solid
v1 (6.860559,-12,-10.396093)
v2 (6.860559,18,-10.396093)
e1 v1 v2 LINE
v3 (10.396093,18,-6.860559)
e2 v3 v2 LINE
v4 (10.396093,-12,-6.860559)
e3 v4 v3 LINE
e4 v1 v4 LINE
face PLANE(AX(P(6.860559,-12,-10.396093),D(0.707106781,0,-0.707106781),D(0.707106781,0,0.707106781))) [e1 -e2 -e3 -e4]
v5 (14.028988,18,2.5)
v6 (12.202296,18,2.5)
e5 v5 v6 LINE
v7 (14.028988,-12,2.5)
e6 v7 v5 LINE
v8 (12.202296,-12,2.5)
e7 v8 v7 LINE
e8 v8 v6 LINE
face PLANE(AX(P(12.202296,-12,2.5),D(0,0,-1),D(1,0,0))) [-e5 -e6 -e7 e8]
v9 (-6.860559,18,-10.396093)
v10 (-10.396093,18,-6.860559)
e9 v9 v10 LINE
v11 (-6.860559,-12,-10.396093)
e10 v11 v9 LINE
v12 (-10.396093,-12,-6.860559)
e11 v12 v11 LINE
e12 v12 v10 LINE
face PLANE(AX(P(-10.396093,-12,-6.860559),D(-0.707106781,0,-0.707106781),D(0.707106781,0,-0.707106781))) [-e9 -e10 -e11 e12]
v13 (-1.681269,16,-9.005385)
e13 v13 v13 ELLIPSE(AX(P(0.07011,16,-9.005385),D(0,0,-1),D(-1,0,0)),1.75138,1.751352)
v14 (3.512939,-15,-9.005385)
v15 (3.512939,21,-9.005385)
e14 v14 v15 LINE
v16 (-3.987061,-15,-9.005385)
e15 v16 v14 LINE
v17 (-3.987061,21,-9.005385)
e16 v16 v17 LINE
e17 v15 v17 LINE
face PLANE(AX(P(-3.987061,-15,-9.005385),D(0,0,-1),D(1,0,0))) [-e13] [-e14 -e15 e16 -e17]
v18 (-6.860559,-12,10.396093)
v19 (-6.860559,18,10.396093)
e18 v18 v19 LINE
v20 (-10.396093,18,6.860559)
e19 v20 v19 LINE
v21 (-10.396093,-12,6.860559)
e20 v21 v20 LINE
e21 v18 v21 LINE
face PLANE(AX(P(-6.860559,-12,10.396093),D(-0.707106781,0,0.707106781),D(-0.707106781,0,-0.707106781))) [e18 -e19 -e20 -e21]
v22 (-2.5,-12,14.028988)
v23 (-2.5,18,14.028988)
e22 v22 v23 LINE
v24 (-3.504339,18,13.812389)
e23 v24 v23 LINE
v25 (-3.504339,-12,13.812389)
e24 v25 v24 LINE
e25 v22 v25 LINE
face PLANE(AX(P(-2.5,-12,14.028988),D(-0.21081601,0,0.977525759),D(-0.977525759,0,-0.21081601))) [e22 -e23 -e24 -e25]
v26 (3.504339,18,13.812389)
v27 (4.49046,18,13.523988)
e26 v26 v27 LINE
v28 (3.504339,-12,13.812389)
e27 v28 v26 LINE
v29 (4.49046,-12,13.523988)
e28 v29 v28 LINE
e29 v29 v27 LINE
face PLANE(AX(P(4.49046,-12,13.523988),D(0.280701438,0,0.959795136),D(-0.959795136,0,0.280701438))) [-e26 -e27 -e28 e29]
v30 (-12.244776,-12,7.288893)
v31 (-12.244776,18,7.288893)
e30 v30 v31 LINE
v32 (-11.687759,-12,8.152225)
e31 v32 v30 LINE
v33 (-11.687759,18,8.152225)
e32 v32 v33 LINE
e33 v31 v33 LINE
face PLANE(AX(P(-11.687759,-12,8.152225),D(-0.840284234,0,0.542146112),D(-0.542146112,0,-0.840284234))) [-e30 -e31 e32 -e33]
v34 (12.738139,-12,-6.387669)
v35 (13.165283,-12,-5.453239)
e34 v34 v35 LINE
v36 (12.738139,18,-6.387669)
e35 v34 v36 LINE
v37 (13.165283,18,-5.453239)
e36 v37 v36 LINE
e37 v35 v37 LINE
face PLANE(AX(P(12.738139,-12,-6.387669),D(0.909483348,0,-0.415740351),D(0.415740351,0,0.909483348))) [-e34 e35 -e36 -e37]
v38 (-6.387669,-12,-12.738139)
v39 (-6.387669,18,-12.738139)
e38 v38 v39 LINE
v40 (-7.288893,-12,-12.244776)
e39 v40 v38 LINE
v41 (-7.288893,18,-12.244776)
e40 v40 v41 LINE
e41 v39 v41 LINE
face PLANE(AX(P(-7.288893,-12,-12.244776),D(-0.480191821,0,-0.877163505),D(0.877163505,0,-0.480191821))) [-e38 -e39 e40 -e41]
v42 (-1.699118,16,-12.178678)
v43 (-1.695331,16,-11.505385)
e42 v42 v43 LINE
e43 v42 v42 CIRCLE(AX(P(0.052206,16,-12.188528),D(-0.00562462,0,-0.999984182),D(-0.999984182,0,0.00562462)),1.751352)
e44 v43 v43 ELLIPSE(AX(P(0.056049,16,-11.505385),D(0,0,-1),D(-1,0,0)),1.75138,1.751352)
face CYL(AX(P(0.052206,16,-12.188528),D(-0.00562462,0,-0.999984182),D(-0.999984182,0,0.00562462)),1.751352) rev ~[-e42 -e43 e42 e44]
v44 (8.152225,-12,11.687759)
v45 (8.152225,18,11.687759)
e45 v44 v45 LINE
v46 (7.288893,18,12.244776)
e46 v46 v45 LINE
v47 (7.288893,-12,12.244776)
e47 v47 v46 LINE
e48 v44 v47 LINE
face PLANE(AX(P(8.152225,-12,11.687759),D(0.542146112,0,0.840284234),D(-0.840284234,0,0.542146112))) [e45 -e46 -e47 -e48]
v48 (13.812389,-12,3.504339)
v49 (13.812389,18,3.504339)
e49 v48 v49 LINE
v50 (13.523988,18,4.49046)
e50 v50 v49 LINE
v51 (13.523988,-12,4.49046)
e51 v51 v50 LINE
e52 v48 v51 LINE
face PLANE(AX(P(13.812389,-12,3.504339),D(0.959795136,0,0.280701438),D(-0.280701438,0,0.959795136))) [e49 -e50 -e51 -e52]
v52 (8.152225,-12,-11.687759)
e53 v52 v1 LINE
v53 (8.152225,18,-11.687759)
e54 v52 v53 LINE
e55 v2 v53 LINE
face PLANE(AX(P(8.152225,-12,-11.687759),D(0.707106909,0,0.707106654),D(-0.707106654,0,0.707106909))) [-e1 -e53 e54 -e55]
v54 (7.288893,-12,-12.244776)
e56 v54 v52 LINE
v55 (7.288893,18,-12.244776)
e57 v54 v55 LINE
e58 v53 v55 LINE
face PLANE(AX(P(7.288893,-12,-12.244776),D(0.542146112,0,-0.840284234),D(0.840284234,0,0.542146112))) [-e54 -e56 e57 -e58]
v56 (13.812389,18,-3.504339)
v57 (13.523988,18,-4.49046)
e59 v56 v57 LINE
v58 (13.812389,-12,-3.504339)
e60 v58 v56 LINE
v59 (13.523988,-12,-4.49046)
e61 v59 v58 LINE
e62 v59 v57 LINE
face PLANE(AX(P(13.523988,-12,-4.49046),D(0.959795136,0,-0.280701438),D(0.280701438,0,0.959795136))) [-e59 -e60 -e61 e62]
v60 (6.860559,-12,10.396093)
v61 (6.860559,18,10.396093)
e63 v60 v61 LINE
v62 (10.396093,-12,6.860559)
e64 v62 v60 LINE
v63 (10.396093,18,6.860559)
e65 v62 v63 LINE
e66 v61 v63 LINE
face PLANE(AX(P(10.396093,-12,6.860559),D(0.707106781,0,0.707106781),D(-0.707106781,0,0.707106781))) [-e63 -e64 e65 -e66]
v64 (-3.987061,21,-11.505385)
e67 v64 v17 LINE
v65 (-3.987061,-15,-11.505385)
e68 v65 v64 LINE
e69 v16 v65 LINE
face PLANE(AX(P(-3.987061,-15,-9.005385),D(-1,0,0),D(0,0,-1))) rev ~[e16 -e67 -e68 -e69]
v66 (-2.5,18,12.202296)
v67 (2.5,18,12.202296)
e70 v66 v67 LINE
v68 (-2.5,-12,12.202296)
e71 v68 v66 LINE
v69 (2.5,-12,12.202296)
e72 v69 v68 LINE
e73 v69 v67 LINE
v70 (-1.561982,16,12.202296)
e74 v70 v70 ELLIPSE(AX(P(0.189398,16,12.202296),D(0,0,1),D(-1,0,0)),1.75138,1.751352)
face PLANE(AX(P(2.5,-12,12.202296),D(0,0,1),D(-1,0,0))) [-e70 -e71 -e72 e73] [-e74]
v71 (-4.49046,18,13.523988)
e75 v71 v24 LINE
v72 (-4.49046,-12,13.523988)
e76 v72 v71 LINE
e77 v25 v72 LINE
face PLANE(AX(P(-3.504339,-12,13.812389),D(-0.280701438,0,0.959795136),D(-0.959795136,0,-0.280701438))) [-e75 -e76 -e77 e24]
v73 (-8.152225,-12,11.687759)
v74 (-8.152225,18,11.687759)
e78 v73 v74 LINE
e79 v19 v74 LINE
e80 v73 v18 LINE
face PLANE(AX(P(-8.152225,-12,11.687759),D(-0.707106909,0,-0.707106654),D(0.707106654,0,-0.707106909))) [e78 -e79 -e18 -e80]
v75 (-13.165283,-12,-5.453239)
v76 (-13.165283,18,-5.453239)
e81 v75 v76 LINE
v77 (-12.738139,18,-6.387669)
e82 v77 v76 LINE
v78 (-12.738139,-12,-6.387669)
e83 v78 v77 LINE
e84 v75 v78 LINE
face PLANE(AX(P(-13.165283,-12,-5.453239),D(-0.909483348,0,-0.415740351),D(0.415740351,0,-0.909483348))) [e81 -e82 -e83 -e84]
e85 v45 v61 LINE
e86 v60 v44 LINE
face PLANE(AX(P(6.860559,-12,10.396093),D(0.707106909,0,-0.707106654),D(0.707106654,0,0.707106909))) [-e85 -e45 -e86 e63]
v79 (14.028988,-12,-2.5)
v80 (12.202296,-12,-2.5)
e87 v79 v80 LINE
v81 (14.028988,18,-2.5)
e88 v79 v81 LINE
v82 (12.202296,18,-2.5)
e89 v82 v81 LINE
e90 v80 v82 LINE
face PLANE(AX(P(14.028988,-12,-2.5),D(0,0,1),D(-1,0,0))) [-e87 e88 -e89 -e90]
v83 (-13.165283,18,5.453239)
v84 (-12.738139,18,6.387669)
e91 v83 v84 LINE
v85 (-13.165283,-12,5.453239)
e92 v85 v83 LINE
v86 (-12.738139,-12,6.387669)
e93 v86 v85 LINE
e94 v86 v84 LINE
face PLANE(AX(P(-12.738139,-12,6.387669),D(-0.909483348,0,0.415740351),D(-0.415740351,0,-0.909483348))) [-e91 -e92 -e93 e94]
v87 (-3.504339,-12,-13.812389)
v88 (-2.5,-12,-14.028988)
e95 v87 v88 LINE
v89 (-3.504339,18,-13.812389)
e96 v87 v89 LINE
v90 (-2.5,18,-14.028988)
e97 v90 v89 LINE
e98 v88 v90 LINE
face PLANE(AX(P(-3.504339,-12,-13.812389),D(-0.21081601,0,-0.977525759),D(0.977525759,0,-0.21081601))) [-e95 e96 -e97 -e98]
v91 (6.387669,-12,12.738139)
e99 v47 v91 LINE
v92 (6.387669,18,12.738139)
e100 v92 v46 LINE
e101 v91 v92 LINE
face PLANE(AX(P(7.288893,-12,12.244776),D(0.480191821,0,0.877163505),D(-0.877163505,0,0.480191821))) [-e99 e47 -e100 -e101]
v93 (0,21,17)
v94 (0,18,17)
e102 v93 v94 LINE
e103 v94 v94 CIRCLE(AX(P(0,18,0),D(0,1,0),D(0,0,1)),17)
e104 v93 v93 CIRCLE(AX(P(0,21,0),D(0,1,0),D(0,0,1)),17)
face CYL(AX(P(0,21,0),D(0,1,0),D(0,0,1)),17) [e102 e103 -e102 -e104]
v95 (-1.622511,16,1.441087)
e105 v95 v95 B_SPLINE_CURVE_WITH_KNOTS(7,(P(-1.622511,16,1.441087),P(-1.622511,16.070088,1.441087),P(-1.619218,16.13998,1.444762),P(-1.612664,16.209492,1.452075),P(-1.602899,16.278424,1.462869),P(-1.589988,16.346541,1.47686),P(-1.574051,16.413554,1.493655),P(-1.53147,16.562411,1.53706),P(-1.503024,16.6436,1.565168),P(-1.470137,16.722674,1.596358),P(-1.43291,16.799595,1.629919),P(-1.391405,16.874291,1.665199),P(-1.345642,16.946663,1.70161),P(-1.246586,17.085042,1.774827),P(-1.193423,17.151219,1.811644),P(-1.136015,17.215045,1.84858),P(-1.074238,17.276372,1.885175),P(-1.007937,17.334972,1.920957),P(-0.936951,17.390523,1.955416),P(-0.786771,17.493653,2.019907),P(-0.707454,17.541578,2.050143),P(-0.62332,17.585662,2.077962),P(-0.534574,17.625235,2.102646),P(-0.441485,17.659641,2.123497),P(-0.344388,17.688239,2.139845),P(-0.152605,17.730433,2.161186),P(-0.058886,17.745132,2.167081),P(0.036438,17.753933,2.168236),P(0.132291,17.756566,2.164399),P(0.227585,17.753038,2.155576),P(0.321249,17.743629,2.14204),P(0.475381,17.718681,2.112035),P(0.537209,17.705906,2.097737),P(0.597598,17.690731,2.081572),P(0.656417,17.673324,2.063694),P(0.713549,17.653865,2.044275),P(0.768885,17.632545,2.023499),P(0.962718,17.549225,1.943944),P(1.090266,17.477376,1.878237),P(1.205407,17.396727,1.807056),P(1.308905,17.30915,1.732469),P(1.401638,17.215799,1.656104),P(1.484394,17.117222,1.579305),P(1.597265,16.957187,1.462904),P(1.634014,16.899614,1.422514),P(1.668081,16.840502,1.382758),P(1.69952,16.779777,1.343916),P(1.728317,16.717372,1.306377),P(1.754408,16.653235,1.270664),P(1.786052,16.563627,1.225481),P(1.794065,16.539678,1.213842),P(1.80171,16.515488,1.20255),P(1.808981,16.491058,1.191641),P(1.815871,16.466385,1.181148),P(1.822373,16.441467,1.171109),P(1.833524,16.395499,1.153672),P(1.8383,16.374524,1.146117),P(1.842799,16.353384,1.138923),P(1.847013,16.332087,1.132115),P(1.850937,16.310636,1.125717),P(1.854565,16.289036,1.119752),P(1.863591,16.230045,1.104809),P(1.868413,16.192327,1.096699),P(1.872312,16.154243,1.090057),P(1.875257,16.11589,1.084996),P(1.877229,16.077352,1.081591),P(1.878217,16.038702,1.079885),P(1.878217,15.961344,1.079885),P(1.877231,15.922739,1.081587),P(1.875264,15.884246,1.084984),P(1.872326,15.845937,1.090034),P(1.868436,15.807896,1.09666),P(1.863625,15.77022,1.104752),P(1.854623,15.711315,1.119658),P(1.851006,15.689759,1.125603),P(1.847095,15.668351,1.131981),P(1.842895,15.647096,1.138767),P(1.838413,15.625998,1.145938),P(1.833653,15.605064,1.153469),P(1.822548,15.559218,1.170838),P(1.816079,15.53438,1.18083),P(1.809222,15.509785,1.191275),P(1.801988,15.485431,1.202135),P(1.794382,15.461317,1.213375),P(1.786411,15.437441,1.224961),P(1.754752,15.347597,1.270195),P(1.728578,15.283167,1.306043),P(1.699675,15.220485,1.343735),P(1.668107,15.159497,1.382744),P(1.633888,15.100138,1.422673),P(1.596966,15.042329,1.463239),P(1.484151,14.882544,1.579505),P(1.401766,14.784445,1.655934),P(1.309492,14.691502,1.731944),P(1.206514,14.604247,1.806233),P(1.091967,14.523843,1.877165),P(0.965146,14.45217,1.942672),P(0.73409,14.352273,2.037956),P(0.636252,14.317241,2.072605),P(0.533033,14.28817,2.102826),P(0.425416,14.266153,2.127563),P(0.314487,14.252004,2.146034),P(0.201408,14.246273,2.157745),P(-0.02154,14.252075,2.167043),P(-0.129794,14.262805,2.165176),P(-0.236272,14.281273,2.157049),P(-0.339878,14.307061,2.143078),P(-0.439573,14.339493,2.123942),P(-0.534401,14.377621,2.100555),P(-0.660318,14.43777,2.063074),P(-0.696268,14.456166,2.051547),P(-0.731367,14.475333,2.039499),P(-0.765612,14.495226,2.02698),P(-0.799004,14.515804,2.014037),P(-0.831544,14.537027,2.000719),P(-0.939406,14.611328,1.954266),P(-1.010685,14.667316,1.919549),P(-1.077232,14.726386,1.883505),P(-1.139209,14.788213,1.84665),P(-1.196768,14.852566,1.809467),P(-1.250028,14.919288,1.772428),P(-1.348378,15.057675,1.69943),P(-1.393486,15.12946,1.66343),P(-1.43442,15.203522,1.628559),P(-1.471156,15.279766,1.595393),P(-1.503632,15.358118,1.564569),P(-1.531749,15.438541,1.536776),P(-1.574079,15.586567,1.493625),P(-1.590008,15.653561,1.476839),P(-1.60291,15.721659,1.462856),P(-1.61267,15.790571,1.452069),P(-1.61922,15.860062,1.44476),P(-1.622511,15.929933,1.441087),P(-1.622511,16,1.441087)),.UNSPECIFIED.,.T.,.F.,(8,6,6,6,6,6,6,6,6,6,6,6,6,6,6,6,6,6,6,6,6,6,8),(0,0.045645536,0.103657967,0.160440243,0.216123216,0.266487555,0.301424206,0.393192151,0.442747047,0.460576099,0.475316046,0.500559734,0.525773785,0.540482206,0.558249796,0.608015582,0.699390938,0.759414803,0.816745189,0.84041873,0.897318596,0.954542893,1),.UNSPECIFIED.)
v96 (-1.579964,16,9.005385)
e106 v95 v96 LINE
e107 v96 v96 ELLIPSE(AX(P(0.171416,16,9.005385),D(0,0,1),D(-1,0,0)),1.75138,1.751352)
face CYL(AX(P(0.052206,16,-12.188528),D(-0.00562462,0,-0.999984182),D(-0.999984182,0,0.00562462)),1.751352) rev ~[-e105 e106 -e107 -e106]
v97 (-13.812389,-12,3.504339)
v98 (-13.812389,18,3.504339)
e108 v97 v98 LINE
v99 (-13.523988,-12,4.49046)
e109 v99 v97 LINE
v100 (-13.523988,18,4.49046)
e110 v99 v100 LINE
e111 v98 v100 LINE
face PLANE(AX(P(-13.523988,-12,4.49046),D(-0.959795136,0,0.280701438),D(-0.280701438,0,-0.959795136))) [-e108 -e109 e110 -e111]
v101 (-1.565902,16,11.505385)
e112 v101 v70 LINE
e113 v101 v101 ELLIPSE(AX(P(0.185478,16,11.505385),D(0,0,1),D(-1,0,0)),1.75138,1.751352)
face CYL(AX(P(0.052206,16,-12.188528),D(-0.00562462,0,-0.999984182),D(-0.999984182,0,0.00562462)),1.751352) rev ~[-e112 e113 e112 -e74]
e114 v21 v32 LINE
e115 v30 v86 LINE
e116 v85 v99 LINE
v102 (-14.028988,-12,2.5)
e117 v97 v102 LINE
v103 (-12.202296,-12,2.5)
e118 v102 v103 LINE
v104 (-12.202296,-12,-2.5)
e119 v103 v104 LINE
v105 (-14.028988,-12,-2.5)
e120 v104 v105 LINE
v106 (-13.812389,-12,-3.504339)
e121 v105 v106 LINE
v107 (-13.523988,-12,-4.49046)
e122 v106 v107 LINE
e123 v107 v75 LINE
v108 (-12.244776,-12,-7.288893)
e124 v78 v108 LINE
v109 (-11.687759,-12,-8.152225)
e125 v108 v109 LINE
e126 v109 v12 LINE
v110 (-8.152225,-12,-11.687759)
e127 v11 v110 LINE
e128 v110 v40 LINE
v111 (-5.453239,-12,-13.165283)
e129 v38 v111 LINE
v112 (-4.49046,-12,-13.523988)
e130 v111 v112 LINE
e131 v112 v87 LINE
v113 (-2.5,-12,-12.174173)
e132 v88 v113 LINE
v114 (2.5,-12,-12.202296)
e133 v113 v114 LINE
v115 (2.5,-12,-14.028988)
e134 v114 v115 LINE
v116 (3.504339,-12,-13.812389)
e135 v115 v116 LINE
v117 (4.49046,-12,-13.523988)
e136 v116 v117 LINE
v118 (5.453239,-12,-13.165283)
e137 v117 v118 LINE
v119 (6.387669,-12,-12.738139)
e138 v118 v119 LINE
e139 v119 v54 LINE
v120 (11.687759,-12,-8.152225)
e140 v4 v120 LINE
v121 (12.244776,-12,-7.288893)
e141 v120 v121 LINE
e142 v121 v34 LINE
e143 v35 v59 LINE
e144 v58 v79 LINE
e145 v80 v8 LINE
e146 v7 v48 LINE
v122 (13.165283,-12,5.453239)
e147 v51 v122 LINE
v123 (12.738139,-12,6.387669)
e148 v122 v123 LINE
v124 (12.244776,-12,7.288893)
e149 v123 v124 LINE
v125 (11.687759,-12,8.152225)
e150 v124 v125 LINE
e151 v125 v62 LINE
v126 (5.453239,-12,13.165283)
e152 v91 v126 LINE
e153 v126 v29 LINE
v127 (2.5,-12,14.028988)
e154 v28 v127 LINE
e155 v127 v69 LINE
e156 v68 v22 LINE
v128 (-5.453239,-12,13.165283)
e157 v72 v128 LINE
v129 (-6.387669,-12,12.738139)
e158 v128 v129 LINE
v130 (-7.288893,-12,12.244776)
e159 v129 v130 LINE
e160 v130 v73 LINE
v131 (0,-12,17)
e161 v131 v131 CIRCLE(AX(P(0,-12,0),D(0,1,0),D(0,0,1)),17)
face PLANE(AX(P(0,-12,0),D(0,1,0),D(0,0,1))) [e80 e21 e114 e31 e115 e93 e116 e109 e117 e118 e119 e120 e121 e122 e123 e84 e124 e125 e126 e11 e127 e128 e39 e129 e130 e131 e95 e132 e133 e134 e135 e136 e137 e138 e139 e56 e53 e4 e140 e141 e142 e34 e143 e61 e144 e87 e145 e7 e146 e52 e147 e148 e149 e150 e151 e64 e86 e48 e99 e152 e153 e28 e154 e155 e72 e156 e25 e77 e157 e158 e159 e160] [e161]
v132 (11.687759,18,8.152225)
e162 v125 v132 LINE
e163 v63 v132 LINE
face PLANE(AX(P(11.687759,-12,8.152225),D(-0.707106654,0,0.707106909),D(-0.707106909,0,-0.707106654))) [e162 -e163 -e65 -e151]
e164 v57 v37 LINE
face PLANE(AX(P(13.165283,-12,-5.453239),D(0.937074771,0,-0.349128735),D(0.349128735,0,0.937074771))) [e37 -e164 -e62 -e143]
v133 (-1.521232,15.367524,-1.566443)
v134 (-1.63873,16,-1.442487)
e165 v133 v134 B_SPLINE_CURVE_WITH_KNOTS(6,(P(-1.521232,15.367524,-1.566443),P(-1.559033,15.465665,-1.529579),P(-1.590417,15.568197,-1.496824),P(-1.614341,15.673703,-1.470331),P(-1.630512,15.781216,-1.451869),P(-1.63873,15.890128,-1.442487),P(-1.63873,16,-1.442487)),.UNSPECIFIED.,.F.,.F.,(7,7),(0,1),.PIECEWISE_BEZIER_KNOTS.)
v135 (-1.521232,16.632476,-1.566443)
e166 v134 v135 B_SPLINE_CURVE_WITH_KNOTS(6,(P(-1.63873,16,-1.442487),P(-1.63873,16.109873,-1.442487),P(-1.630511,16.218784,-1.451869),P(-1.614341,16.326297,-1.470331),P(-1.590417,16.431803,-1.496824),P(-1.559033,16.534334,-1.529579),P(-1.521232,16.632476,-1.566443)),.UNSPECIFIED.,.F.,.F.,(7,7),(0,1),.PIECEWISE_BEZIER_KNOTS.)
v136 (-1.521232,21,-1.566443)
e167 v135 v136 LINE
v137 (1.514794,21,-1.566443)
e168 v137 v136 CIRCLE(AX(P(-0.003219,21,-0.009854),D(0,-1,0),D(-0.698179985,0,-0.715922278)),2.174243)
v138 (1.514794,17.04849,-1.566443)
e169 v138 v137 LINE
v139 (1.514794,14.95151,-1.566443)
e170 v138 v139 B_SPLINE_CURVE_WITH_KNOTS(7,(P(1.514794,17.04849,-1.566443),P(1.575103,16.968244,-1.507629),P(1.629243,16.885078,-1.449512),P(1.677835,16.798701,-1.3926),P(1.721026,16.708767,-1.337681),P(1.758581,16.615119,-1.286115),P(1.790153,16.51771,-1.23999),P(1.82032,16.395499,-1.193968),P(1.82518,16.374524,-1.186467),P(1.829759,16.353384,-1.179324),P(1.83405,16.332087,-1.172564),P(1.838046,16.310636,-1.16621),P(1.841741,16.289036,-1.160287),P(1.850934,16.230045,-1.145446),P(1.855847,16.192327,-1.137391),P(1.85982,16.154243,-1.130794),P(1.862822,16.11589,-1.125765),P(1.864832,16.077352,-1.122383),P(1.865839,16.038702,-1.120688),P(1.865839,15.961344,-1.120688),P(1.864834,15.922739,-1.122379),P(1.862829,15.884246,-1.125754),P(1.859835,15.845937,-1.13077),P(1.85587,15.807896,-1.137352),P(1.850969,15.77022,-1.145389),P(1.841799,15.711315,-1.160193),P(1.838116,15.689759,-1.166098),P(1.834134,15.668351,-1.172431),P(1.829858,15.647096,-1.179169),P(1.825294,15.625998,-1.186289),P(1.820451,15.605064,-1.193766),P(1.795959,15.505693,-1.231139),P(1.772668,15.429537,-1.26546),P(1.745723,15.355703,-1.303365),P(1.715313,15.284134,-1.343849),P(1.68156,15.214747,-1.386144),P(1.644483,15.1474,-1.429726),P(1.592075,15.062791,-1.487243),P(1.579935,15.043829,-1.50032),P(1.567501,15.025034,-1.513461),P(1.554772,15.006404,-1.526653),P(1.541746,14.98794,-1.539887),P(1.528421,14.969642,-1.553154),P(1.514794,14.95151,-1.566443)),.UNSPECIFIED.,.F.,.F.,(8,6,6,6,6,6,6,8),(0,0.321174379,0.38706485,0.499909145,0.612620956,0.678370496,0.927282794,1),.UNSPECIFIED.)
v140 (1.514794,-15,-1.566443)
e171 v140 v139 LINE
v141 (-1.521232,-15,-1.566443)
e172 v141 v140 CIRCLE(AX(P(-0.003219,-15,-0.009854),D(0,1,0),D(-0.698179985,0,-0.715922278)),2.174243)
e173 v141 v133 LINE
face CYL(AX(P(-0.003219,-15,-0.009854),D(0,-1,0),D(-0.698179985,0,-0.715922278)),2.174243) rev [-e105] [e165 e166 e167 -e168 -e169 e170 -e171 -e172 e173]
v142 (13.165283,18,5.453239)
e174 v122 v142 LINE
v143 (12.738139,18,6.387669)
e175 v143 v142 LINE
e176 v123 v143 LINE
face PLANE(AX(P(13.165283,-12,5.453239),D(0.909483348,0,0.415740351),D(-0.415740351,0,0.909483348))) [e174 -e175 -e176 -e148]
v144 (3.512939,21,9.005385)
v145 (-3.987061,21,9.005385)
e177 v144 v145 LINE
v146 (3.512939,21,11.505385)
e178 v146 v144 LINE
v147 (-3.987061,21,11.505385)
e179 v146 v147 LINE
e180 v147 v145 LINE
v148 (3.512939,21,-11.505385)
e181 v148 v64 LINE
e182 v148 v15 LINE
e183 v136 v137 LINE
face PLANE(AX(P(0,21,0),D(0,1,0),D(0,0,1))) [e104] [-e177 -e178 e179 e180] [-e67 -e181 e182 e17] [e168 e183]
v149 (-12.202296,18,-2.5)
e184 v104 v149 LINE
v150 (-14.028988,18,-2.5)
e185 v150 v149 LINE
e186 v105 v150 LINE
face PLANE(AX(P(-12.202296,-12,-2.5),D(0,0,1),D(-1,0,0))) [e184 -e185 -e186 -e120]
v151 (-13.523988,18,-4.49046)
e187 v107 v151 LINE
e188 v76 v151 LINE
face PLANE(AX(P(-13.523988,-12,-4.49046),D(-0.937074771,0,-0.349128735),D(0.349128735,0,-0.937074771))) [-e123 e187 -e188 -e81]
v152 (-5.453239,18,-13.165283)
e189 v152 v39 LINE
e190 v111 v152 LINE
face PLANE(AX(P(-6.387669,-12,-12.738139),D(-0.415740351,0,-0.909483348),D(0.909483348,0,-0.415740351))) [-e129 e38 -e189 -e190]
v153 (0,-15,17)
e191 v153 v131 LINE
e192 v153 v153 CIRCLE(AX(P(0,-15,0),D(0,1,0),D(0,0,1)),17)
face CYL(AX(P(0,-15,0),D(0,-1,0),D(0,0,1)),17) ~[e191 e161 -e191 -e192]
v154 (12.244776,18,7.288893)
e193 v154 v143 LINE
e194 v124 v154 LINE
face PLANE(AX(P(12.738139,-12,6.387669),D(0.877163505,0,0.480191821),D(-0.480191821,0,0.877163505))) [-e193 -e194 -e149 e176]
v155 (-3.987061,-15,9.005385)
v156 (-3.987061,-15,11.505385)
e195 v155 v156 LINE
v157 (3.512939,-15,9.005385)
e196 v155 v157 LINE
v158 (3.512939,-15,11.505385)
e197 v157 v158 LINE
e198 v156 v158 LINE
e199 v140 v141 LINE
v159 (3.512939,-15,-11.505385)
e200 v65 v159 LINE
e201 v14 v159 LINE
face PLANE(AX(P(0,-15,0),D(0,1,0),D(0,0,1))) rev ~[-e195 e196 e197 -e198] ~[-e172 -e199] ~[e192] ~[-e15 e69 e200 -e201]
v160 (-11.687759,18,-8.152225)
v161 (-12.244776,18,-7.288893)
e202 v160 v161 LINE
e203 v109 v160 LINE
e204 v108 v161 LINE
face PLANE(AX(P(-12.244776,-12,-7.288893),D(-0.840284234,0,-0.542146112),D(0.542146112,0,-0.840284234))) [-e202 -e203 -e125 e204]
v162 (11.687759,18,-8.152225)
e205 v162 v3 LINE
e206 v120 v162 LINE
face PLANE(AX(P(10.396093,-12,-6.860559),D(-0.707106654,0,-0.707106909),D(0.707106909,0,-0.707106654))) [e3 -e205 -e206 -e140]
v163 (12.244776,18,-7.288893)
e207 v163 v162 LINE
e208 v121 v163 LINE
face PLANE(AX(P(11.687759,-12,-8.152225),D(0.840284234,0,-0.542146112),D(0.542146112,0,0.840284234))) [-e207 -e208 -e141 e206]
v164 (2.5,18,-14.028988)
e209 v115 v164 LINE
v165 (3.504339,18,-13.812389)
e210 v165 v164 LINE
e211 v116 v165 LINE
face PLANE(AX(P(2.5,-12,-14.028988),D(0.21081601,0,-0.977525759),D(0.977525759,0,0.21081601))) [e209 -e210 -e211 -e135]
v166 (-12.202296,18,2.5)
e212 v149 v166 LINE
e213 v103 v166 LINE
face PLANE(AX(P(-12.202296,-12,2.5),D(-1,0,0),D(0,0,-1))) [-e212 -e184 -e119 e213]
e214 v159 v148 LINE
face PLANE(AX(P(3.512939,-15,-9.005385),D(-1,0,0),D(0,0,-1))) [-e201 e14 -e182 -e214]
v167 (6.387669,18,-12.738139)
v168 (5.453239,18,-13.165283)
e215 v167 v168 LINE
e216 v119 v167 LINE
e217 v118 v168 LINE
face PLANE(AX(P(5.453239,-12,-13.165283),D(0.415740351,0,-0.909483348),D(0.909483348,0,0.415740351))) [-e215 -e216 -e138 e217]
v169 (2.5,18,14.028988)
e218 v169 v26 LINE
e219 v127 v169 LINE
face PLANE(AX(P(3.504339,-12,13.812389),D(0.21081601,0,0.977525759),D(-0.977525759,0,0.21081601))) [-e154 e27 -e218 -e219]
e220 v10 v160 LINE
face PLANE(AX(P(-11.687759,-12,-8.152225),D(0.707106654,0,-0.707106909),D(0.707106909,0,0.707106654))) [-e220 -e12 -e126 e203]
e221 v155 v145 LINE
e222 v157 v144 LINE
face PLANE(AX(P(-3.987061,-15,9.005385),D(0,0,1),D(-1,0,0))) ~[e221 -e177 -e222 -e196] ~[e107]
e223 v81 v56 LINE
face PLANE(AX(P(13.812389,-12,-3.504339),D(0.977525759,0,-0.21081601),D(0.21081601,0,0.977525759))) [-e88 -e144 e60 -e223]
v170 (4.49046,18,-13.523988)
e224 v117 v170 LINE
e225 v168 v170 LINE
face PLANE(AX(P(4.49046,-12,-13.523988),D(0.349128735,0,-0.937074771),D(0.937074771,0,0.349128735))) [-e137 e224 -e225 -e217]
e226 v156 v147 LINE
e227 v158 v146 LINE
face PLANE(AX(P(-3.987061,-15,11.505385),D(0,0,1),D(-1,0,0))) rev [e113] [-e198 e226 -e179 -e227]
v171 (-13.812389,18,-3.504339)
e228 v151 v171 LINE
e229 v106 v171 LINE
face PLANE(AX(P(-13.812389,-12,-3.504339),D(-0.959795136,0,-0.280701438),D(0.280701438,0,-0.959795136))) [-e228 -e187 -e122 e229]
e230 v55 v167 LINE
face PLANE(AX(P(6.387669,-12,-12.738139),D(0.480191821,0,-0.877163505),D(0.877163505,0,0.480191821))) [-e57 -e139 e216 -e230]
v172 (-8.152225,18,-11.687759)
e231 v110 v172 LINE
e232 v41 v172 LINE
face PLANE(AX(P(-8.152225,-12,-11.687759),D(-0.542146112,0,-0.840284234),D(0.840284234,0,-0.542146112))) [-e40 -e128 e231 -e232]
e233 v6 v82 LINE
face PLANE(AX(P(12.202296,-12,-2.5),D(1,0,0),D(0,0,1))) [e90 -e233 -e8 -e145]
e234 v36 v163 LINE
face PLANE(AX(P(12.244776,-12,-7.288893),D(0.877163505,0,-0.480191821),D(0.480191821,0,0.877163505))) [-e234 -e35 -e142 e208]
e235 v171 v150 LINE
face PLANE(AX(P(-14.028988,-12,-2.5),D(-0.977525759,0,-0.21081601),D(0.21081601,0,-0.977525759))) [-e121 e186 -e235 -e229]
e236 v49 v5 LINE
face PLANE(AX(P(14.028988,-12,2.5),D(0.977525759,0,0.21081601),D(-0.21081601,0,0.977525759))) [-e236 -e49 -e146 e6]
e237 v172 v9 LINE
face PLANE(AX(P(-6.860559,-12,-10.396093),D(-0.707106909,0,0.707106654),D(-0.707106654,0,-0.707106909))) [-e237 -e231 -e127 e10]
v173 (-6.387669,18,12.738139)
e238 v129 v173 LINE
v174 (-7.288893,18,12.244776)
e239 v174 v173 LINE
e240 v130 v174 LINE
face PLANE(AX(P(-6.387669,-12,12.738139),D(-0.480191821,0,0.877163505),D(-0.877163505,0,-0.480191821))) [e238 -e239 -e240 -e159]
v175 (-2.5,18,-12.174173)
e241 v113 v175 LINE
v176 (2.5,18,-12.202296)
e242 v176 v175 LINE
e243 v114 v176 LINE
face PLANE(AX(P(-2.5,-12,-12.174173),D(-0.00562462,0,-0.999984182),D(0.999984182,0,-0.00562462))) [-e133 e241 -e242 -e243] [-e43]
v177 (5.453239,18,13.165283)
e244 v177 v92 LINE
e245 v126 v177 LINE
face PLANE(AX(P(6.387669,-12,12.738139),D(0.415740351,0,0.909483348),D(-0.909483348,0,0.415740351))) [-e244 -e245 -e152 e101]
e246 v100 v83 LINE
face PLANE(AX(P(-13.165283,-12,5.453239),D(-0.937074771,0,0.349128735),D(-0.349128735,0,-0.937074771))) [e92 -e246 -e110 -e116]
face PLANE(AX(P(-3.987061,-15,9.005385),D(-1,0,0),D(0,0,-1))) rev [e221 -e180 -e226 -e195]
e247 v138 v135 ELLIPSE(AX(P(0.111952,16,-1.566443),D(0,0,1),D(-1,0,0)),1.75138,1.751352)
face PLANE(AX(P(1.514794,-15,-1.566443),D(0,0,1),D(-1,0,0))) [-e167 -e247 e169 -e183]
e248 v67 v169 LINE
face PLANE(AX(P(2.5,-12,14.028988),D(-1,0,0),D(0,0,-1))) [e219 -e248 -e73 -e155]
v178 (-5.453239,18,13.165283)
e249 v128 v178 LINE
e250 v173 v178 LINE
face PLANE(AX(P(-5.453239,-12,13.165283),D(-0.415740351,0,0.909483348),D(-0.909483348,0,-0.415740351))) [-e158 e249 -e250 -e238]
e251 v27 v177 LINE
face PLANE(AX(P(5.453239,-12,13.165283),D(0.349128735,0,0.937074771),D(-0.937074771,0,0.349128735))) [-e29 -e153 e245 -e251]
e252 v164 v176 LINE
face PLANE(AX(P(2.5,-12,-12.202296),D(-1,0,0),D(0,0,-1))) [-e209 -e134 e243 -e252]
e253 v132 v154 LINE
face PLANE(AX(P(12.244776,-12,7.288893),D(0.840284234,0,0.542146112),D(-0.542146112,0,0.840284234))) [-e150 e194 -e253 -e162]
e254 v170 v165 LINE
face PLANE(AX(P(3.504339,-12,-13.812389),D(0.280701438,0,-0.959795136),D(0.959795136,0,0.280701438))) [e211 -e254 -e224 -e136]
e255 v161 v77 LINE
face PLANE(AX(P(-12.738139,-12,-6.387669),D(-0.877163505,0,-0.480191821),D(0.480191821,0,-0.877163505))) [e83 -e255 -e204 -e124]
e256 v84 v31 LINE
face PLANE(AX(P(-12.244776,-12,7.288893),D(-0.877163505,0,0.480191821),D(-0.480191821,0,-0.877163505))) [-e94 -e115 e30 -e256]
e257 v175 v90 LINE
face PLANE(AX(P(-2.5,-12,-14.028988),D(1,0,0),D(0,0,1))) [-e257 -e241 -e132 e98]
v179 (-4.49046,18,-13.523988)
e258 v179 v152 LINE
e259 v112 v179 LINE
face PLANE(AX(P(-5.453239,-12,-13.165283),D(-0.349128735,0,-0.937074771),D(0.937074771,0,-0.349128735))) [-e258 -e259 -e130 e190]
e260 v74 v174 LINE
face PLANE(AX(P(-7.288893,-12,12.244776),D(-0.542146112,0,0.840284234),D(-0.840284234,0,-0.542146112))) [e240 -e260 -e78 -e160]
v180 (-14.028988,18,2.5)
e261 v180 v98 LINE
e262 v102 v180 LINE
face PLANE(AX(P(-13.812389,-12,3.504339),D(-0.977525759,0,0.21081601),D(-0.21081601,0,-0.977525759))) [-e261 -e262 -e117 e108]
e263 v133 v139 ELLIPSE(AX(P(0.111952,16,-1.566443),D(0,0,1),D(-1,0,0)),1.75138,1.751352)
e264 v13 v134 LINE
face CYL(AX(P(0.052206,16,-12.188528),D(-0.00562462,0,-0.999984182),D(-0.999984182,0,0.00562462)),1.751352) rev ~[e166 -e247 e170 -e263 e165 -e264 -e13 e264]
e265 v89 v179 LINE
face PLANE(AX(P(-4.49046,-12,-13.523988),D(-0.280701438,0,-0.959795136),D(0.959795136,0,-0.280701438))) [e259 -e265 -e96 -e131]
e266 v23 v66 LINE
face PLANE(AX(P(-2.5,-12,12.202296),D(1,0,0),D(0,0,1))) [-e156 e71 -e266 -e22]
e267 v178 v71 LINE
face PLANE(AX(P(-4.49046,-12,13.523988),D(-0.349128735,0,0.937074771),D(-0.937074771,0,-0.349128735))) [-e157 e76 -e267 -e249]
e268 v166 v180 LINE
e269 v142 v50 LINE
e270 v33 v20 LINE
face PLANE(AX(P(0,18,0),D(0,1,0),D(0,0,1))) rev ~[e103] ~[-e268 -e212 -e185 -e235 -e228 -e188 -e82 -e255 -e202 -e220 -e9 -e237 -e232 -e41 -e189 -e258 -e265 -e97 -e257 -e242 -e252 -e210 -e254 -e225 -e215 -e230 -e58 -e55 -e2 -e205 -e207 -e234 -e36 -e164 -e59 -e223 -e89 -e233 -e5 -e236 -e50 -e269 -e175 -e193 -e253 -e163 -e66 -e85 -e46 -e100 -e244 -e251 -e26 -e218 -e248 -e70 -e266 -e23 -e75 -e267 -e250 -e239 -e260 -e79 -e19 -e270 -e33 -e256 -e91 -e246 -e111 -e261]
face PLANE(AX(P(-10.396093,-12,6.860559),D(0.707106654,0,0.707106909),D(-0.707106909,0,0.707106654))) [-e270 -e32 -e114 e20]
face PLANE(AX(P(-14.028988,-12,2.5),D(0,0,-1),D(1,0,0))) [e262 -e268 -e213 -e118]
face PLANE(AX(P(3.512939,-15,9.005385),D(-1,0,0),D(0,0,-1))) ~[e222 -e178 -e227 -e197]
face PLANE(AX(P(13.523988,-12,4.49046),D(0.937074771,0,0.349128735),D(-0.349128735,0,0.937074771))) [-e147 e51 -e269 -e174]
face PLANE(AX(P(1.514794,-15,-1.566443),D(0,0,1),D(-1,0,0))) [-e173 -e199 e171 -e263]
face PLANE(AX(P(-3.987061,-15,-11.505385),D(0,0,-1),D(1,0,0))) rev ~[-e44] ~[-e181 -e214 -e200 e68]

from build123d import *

# Parameters (mm, degrees)
SKETCH1_R           = 17
BOSS_EXTRUDE1_DEPTH = 3
SKETCH3_R           = 17
BOSS_EXTRUDE2_DEPTH = 3
BOSS_EXTRUDE3_DEPTH = 31
SKETCH7_R           = 1.751351815
CUT_EXTRUDE11_DEPTH = 50
CUT_EXTRUDE1_DEPTH  = 50
SKETCH8_W           = 7.5
SKETCH8_H           = 2.5
CUT_EXTRUDE12_DEPTH = 40


with BuildPart() as part:
    # Sketch1 → Boss-Extrude1 (new body)
    with BuildSketch(Plane(origin=(0, -15, 0), x_dir=(1, 0, 0), z_dir=(0, 1, 0))):
        with Locations(Location((0, 0, 0), (0, 0, 270))):
            Circle(SKETCH1_R)
    extrude(amount=BOSS_EXTRUDE1_DEPTH)



with BuildPart() as body_2:
    # Sketch3 → Boss-Extrude2 (new body)
    with BuildSketch(Plane(origin=(0, 21, 0), x_dir=(1, 0, 0), z_dir=(0, 1, 0))):
        with Locations(Location((0, 0, 0), (0, 0, 270))):
            Circle(SKETCH3_R)
    extrude(amount=-BOSS_EXTRUDE2_DEPTH)


with BuildPart() as part_1:
    add(part.part)

    add(body_2.part)  # Boss-Extrude3 merges body 2
    # Sketch6 → Boss-Extrude3 (add)
    with BuildSketch(Plane(origin=(0, -12, 0), x_dir=(1, 0, 0), z_dir=(0, 1, 0))):
        Polygon((-10.39609313, -6.860559341), (-11.68775931, -8.152225055), (-12.244775891, -7.288892753), (-12.738139369, -6.387668662), (-13.165283017, -5.453239195), (-13.523988426, -4.490460269), (-13.812389225, -3.504338907), (-14.028987847, -2.499999944), (-12.202296406, -2.499999944), (-12.202296406, 2.499999944), (-14.028987847, 2.499999944), (-13.812389225, 3.504338907), (-13.523988426, 4.490460269), (-13.165283017, 5.453239195), (-12.738139369, 6.387668662), (-12.244775891, 7.288892753), (-11.68775931, 8.152225055), (-10.39609313, 6.860559341), (-6.860559341, 10.39609313), (-8.152225055, 11.68775931), (-7.288892753, 12.244775891), (-6.387668662, 12.738139369), (-5.453239195, 13.165283017), (-4.490460269, 13.523988426), (-3.504338907, 13.812389225), (-2.499999944, 14.028987847), (-2.499999944, 12.174172863), (2.499999944, 12.202296406), (2.499999944, 14.028987847), (3.504338907, 13.812389225), (4.490460269, 13.523988426), (5.453239195, 13.165283017), (6.387668662, 12.738139369), (7.288892753, 12.244775891), (8.152225055, 11.68775931), (6.860559341, 10.39609313), (10.39609313, 6.860559341), (11.68775931, 8.152225055), (12.244775891, 7.288892753), (12.738139369, 6.387668662), (13.165283017, 5.453239195), (13.523988426, 4.490460269), (13.812389225, 3.504338907), (14.028987847, 2.499999944), (12.202296406, 2.499999944), (12.202296406, -2.499999944), (14.028987847, -2.499999944), (13.812389225, -3.504338907), (13.523988426, -4.490460269), (13.165283017, -5.453239195), (12.738139369, -6.387668662), (12.244775891, -7.288892753), (11.68775931, -8.152225055), (10.39609313, -6.860559341), (6.860559341, -10.39609313), (8.152225055, -11.68775931), (7.288892753, -12.244775891), (6.387668662, -12.738139369), (5.453239195, -13.165283017), (4.490460269, -13.523988426), (3.504338907, -13.812389225), (2.499999944, -14.028987847), (2.499999944, -12.202296406), (-2.499999944, -12.202296406), (-2.499999944, -14.028987847), (-3.504338907, -13.812389225), (-4.490460269, -13.523988426), (-5.453239195, -13.165283017), (-6.387668662, -12.738139369), (-7.288892753, -12.244775891), (-8.152225055, -11.68775931), (-6.860559341, -10.39609313), align=None)
    extrude(amount=BOSS_EXTRUDE3_DEPTH)

    # Sketch7 → Cut-Extrude11 (cut)
    with BuildSketch(Plane(origin=(-0.068553102, 0, -12.187849043), x_dir=(-0.9999841817006155, 0, 0.005624619858302935), z_dir=(-0.005624619858302935, 0, -0.9999841817006155))):
        with Locations((-0.120761258, 16)):
            Circle(SKETCH7_R)
    extrude(amount=-CUT_EXTRUDE11_DEPTH, mode=Mode.SUBTRACT)

    # Sketch2 → Cut-Extrude1 (cut)
    with BuildSketch(Plane(origin=(0, -15, 0), x_dir=(1, 0, 0), z_dir=(0, 1, 0))):
        with BuildLine():
            Line((1.514793699, 1.566442938), (-1.521232282, 1.566442938))
            ThreePointArc((-1.521232282, 1.566442938), (-0.003219291, -2.164389177), (1.514793699, 1.566442938))
        make_face()
    extrude(amount=CUT_EXTRUDE1_DEPTH, mode=Mode.SUBTRACT)

    # Sketch8 → Cut-Extrude12 (cut)
    with BuildSketch(Plane(origin=(0, -15, 0), x_dir=(1, 0, 0), z_dir=(0, 1, 0))):
        with Locations((-0.237061367, 10.255385433)):
            Rectangle(SKETCH8_W, SKETCH8_H)
    cut_extrude12 = extrude(amount=CUT_EXTRUDE12_DEPTH, mode=Mode.SUBTRACT)

    # Mirror1: Cut-Extrude12 across plane
    add(cut_extrude12.mirror(Plane.XY), mode=Mode.SUBTRACT)


solid = part_1.part
